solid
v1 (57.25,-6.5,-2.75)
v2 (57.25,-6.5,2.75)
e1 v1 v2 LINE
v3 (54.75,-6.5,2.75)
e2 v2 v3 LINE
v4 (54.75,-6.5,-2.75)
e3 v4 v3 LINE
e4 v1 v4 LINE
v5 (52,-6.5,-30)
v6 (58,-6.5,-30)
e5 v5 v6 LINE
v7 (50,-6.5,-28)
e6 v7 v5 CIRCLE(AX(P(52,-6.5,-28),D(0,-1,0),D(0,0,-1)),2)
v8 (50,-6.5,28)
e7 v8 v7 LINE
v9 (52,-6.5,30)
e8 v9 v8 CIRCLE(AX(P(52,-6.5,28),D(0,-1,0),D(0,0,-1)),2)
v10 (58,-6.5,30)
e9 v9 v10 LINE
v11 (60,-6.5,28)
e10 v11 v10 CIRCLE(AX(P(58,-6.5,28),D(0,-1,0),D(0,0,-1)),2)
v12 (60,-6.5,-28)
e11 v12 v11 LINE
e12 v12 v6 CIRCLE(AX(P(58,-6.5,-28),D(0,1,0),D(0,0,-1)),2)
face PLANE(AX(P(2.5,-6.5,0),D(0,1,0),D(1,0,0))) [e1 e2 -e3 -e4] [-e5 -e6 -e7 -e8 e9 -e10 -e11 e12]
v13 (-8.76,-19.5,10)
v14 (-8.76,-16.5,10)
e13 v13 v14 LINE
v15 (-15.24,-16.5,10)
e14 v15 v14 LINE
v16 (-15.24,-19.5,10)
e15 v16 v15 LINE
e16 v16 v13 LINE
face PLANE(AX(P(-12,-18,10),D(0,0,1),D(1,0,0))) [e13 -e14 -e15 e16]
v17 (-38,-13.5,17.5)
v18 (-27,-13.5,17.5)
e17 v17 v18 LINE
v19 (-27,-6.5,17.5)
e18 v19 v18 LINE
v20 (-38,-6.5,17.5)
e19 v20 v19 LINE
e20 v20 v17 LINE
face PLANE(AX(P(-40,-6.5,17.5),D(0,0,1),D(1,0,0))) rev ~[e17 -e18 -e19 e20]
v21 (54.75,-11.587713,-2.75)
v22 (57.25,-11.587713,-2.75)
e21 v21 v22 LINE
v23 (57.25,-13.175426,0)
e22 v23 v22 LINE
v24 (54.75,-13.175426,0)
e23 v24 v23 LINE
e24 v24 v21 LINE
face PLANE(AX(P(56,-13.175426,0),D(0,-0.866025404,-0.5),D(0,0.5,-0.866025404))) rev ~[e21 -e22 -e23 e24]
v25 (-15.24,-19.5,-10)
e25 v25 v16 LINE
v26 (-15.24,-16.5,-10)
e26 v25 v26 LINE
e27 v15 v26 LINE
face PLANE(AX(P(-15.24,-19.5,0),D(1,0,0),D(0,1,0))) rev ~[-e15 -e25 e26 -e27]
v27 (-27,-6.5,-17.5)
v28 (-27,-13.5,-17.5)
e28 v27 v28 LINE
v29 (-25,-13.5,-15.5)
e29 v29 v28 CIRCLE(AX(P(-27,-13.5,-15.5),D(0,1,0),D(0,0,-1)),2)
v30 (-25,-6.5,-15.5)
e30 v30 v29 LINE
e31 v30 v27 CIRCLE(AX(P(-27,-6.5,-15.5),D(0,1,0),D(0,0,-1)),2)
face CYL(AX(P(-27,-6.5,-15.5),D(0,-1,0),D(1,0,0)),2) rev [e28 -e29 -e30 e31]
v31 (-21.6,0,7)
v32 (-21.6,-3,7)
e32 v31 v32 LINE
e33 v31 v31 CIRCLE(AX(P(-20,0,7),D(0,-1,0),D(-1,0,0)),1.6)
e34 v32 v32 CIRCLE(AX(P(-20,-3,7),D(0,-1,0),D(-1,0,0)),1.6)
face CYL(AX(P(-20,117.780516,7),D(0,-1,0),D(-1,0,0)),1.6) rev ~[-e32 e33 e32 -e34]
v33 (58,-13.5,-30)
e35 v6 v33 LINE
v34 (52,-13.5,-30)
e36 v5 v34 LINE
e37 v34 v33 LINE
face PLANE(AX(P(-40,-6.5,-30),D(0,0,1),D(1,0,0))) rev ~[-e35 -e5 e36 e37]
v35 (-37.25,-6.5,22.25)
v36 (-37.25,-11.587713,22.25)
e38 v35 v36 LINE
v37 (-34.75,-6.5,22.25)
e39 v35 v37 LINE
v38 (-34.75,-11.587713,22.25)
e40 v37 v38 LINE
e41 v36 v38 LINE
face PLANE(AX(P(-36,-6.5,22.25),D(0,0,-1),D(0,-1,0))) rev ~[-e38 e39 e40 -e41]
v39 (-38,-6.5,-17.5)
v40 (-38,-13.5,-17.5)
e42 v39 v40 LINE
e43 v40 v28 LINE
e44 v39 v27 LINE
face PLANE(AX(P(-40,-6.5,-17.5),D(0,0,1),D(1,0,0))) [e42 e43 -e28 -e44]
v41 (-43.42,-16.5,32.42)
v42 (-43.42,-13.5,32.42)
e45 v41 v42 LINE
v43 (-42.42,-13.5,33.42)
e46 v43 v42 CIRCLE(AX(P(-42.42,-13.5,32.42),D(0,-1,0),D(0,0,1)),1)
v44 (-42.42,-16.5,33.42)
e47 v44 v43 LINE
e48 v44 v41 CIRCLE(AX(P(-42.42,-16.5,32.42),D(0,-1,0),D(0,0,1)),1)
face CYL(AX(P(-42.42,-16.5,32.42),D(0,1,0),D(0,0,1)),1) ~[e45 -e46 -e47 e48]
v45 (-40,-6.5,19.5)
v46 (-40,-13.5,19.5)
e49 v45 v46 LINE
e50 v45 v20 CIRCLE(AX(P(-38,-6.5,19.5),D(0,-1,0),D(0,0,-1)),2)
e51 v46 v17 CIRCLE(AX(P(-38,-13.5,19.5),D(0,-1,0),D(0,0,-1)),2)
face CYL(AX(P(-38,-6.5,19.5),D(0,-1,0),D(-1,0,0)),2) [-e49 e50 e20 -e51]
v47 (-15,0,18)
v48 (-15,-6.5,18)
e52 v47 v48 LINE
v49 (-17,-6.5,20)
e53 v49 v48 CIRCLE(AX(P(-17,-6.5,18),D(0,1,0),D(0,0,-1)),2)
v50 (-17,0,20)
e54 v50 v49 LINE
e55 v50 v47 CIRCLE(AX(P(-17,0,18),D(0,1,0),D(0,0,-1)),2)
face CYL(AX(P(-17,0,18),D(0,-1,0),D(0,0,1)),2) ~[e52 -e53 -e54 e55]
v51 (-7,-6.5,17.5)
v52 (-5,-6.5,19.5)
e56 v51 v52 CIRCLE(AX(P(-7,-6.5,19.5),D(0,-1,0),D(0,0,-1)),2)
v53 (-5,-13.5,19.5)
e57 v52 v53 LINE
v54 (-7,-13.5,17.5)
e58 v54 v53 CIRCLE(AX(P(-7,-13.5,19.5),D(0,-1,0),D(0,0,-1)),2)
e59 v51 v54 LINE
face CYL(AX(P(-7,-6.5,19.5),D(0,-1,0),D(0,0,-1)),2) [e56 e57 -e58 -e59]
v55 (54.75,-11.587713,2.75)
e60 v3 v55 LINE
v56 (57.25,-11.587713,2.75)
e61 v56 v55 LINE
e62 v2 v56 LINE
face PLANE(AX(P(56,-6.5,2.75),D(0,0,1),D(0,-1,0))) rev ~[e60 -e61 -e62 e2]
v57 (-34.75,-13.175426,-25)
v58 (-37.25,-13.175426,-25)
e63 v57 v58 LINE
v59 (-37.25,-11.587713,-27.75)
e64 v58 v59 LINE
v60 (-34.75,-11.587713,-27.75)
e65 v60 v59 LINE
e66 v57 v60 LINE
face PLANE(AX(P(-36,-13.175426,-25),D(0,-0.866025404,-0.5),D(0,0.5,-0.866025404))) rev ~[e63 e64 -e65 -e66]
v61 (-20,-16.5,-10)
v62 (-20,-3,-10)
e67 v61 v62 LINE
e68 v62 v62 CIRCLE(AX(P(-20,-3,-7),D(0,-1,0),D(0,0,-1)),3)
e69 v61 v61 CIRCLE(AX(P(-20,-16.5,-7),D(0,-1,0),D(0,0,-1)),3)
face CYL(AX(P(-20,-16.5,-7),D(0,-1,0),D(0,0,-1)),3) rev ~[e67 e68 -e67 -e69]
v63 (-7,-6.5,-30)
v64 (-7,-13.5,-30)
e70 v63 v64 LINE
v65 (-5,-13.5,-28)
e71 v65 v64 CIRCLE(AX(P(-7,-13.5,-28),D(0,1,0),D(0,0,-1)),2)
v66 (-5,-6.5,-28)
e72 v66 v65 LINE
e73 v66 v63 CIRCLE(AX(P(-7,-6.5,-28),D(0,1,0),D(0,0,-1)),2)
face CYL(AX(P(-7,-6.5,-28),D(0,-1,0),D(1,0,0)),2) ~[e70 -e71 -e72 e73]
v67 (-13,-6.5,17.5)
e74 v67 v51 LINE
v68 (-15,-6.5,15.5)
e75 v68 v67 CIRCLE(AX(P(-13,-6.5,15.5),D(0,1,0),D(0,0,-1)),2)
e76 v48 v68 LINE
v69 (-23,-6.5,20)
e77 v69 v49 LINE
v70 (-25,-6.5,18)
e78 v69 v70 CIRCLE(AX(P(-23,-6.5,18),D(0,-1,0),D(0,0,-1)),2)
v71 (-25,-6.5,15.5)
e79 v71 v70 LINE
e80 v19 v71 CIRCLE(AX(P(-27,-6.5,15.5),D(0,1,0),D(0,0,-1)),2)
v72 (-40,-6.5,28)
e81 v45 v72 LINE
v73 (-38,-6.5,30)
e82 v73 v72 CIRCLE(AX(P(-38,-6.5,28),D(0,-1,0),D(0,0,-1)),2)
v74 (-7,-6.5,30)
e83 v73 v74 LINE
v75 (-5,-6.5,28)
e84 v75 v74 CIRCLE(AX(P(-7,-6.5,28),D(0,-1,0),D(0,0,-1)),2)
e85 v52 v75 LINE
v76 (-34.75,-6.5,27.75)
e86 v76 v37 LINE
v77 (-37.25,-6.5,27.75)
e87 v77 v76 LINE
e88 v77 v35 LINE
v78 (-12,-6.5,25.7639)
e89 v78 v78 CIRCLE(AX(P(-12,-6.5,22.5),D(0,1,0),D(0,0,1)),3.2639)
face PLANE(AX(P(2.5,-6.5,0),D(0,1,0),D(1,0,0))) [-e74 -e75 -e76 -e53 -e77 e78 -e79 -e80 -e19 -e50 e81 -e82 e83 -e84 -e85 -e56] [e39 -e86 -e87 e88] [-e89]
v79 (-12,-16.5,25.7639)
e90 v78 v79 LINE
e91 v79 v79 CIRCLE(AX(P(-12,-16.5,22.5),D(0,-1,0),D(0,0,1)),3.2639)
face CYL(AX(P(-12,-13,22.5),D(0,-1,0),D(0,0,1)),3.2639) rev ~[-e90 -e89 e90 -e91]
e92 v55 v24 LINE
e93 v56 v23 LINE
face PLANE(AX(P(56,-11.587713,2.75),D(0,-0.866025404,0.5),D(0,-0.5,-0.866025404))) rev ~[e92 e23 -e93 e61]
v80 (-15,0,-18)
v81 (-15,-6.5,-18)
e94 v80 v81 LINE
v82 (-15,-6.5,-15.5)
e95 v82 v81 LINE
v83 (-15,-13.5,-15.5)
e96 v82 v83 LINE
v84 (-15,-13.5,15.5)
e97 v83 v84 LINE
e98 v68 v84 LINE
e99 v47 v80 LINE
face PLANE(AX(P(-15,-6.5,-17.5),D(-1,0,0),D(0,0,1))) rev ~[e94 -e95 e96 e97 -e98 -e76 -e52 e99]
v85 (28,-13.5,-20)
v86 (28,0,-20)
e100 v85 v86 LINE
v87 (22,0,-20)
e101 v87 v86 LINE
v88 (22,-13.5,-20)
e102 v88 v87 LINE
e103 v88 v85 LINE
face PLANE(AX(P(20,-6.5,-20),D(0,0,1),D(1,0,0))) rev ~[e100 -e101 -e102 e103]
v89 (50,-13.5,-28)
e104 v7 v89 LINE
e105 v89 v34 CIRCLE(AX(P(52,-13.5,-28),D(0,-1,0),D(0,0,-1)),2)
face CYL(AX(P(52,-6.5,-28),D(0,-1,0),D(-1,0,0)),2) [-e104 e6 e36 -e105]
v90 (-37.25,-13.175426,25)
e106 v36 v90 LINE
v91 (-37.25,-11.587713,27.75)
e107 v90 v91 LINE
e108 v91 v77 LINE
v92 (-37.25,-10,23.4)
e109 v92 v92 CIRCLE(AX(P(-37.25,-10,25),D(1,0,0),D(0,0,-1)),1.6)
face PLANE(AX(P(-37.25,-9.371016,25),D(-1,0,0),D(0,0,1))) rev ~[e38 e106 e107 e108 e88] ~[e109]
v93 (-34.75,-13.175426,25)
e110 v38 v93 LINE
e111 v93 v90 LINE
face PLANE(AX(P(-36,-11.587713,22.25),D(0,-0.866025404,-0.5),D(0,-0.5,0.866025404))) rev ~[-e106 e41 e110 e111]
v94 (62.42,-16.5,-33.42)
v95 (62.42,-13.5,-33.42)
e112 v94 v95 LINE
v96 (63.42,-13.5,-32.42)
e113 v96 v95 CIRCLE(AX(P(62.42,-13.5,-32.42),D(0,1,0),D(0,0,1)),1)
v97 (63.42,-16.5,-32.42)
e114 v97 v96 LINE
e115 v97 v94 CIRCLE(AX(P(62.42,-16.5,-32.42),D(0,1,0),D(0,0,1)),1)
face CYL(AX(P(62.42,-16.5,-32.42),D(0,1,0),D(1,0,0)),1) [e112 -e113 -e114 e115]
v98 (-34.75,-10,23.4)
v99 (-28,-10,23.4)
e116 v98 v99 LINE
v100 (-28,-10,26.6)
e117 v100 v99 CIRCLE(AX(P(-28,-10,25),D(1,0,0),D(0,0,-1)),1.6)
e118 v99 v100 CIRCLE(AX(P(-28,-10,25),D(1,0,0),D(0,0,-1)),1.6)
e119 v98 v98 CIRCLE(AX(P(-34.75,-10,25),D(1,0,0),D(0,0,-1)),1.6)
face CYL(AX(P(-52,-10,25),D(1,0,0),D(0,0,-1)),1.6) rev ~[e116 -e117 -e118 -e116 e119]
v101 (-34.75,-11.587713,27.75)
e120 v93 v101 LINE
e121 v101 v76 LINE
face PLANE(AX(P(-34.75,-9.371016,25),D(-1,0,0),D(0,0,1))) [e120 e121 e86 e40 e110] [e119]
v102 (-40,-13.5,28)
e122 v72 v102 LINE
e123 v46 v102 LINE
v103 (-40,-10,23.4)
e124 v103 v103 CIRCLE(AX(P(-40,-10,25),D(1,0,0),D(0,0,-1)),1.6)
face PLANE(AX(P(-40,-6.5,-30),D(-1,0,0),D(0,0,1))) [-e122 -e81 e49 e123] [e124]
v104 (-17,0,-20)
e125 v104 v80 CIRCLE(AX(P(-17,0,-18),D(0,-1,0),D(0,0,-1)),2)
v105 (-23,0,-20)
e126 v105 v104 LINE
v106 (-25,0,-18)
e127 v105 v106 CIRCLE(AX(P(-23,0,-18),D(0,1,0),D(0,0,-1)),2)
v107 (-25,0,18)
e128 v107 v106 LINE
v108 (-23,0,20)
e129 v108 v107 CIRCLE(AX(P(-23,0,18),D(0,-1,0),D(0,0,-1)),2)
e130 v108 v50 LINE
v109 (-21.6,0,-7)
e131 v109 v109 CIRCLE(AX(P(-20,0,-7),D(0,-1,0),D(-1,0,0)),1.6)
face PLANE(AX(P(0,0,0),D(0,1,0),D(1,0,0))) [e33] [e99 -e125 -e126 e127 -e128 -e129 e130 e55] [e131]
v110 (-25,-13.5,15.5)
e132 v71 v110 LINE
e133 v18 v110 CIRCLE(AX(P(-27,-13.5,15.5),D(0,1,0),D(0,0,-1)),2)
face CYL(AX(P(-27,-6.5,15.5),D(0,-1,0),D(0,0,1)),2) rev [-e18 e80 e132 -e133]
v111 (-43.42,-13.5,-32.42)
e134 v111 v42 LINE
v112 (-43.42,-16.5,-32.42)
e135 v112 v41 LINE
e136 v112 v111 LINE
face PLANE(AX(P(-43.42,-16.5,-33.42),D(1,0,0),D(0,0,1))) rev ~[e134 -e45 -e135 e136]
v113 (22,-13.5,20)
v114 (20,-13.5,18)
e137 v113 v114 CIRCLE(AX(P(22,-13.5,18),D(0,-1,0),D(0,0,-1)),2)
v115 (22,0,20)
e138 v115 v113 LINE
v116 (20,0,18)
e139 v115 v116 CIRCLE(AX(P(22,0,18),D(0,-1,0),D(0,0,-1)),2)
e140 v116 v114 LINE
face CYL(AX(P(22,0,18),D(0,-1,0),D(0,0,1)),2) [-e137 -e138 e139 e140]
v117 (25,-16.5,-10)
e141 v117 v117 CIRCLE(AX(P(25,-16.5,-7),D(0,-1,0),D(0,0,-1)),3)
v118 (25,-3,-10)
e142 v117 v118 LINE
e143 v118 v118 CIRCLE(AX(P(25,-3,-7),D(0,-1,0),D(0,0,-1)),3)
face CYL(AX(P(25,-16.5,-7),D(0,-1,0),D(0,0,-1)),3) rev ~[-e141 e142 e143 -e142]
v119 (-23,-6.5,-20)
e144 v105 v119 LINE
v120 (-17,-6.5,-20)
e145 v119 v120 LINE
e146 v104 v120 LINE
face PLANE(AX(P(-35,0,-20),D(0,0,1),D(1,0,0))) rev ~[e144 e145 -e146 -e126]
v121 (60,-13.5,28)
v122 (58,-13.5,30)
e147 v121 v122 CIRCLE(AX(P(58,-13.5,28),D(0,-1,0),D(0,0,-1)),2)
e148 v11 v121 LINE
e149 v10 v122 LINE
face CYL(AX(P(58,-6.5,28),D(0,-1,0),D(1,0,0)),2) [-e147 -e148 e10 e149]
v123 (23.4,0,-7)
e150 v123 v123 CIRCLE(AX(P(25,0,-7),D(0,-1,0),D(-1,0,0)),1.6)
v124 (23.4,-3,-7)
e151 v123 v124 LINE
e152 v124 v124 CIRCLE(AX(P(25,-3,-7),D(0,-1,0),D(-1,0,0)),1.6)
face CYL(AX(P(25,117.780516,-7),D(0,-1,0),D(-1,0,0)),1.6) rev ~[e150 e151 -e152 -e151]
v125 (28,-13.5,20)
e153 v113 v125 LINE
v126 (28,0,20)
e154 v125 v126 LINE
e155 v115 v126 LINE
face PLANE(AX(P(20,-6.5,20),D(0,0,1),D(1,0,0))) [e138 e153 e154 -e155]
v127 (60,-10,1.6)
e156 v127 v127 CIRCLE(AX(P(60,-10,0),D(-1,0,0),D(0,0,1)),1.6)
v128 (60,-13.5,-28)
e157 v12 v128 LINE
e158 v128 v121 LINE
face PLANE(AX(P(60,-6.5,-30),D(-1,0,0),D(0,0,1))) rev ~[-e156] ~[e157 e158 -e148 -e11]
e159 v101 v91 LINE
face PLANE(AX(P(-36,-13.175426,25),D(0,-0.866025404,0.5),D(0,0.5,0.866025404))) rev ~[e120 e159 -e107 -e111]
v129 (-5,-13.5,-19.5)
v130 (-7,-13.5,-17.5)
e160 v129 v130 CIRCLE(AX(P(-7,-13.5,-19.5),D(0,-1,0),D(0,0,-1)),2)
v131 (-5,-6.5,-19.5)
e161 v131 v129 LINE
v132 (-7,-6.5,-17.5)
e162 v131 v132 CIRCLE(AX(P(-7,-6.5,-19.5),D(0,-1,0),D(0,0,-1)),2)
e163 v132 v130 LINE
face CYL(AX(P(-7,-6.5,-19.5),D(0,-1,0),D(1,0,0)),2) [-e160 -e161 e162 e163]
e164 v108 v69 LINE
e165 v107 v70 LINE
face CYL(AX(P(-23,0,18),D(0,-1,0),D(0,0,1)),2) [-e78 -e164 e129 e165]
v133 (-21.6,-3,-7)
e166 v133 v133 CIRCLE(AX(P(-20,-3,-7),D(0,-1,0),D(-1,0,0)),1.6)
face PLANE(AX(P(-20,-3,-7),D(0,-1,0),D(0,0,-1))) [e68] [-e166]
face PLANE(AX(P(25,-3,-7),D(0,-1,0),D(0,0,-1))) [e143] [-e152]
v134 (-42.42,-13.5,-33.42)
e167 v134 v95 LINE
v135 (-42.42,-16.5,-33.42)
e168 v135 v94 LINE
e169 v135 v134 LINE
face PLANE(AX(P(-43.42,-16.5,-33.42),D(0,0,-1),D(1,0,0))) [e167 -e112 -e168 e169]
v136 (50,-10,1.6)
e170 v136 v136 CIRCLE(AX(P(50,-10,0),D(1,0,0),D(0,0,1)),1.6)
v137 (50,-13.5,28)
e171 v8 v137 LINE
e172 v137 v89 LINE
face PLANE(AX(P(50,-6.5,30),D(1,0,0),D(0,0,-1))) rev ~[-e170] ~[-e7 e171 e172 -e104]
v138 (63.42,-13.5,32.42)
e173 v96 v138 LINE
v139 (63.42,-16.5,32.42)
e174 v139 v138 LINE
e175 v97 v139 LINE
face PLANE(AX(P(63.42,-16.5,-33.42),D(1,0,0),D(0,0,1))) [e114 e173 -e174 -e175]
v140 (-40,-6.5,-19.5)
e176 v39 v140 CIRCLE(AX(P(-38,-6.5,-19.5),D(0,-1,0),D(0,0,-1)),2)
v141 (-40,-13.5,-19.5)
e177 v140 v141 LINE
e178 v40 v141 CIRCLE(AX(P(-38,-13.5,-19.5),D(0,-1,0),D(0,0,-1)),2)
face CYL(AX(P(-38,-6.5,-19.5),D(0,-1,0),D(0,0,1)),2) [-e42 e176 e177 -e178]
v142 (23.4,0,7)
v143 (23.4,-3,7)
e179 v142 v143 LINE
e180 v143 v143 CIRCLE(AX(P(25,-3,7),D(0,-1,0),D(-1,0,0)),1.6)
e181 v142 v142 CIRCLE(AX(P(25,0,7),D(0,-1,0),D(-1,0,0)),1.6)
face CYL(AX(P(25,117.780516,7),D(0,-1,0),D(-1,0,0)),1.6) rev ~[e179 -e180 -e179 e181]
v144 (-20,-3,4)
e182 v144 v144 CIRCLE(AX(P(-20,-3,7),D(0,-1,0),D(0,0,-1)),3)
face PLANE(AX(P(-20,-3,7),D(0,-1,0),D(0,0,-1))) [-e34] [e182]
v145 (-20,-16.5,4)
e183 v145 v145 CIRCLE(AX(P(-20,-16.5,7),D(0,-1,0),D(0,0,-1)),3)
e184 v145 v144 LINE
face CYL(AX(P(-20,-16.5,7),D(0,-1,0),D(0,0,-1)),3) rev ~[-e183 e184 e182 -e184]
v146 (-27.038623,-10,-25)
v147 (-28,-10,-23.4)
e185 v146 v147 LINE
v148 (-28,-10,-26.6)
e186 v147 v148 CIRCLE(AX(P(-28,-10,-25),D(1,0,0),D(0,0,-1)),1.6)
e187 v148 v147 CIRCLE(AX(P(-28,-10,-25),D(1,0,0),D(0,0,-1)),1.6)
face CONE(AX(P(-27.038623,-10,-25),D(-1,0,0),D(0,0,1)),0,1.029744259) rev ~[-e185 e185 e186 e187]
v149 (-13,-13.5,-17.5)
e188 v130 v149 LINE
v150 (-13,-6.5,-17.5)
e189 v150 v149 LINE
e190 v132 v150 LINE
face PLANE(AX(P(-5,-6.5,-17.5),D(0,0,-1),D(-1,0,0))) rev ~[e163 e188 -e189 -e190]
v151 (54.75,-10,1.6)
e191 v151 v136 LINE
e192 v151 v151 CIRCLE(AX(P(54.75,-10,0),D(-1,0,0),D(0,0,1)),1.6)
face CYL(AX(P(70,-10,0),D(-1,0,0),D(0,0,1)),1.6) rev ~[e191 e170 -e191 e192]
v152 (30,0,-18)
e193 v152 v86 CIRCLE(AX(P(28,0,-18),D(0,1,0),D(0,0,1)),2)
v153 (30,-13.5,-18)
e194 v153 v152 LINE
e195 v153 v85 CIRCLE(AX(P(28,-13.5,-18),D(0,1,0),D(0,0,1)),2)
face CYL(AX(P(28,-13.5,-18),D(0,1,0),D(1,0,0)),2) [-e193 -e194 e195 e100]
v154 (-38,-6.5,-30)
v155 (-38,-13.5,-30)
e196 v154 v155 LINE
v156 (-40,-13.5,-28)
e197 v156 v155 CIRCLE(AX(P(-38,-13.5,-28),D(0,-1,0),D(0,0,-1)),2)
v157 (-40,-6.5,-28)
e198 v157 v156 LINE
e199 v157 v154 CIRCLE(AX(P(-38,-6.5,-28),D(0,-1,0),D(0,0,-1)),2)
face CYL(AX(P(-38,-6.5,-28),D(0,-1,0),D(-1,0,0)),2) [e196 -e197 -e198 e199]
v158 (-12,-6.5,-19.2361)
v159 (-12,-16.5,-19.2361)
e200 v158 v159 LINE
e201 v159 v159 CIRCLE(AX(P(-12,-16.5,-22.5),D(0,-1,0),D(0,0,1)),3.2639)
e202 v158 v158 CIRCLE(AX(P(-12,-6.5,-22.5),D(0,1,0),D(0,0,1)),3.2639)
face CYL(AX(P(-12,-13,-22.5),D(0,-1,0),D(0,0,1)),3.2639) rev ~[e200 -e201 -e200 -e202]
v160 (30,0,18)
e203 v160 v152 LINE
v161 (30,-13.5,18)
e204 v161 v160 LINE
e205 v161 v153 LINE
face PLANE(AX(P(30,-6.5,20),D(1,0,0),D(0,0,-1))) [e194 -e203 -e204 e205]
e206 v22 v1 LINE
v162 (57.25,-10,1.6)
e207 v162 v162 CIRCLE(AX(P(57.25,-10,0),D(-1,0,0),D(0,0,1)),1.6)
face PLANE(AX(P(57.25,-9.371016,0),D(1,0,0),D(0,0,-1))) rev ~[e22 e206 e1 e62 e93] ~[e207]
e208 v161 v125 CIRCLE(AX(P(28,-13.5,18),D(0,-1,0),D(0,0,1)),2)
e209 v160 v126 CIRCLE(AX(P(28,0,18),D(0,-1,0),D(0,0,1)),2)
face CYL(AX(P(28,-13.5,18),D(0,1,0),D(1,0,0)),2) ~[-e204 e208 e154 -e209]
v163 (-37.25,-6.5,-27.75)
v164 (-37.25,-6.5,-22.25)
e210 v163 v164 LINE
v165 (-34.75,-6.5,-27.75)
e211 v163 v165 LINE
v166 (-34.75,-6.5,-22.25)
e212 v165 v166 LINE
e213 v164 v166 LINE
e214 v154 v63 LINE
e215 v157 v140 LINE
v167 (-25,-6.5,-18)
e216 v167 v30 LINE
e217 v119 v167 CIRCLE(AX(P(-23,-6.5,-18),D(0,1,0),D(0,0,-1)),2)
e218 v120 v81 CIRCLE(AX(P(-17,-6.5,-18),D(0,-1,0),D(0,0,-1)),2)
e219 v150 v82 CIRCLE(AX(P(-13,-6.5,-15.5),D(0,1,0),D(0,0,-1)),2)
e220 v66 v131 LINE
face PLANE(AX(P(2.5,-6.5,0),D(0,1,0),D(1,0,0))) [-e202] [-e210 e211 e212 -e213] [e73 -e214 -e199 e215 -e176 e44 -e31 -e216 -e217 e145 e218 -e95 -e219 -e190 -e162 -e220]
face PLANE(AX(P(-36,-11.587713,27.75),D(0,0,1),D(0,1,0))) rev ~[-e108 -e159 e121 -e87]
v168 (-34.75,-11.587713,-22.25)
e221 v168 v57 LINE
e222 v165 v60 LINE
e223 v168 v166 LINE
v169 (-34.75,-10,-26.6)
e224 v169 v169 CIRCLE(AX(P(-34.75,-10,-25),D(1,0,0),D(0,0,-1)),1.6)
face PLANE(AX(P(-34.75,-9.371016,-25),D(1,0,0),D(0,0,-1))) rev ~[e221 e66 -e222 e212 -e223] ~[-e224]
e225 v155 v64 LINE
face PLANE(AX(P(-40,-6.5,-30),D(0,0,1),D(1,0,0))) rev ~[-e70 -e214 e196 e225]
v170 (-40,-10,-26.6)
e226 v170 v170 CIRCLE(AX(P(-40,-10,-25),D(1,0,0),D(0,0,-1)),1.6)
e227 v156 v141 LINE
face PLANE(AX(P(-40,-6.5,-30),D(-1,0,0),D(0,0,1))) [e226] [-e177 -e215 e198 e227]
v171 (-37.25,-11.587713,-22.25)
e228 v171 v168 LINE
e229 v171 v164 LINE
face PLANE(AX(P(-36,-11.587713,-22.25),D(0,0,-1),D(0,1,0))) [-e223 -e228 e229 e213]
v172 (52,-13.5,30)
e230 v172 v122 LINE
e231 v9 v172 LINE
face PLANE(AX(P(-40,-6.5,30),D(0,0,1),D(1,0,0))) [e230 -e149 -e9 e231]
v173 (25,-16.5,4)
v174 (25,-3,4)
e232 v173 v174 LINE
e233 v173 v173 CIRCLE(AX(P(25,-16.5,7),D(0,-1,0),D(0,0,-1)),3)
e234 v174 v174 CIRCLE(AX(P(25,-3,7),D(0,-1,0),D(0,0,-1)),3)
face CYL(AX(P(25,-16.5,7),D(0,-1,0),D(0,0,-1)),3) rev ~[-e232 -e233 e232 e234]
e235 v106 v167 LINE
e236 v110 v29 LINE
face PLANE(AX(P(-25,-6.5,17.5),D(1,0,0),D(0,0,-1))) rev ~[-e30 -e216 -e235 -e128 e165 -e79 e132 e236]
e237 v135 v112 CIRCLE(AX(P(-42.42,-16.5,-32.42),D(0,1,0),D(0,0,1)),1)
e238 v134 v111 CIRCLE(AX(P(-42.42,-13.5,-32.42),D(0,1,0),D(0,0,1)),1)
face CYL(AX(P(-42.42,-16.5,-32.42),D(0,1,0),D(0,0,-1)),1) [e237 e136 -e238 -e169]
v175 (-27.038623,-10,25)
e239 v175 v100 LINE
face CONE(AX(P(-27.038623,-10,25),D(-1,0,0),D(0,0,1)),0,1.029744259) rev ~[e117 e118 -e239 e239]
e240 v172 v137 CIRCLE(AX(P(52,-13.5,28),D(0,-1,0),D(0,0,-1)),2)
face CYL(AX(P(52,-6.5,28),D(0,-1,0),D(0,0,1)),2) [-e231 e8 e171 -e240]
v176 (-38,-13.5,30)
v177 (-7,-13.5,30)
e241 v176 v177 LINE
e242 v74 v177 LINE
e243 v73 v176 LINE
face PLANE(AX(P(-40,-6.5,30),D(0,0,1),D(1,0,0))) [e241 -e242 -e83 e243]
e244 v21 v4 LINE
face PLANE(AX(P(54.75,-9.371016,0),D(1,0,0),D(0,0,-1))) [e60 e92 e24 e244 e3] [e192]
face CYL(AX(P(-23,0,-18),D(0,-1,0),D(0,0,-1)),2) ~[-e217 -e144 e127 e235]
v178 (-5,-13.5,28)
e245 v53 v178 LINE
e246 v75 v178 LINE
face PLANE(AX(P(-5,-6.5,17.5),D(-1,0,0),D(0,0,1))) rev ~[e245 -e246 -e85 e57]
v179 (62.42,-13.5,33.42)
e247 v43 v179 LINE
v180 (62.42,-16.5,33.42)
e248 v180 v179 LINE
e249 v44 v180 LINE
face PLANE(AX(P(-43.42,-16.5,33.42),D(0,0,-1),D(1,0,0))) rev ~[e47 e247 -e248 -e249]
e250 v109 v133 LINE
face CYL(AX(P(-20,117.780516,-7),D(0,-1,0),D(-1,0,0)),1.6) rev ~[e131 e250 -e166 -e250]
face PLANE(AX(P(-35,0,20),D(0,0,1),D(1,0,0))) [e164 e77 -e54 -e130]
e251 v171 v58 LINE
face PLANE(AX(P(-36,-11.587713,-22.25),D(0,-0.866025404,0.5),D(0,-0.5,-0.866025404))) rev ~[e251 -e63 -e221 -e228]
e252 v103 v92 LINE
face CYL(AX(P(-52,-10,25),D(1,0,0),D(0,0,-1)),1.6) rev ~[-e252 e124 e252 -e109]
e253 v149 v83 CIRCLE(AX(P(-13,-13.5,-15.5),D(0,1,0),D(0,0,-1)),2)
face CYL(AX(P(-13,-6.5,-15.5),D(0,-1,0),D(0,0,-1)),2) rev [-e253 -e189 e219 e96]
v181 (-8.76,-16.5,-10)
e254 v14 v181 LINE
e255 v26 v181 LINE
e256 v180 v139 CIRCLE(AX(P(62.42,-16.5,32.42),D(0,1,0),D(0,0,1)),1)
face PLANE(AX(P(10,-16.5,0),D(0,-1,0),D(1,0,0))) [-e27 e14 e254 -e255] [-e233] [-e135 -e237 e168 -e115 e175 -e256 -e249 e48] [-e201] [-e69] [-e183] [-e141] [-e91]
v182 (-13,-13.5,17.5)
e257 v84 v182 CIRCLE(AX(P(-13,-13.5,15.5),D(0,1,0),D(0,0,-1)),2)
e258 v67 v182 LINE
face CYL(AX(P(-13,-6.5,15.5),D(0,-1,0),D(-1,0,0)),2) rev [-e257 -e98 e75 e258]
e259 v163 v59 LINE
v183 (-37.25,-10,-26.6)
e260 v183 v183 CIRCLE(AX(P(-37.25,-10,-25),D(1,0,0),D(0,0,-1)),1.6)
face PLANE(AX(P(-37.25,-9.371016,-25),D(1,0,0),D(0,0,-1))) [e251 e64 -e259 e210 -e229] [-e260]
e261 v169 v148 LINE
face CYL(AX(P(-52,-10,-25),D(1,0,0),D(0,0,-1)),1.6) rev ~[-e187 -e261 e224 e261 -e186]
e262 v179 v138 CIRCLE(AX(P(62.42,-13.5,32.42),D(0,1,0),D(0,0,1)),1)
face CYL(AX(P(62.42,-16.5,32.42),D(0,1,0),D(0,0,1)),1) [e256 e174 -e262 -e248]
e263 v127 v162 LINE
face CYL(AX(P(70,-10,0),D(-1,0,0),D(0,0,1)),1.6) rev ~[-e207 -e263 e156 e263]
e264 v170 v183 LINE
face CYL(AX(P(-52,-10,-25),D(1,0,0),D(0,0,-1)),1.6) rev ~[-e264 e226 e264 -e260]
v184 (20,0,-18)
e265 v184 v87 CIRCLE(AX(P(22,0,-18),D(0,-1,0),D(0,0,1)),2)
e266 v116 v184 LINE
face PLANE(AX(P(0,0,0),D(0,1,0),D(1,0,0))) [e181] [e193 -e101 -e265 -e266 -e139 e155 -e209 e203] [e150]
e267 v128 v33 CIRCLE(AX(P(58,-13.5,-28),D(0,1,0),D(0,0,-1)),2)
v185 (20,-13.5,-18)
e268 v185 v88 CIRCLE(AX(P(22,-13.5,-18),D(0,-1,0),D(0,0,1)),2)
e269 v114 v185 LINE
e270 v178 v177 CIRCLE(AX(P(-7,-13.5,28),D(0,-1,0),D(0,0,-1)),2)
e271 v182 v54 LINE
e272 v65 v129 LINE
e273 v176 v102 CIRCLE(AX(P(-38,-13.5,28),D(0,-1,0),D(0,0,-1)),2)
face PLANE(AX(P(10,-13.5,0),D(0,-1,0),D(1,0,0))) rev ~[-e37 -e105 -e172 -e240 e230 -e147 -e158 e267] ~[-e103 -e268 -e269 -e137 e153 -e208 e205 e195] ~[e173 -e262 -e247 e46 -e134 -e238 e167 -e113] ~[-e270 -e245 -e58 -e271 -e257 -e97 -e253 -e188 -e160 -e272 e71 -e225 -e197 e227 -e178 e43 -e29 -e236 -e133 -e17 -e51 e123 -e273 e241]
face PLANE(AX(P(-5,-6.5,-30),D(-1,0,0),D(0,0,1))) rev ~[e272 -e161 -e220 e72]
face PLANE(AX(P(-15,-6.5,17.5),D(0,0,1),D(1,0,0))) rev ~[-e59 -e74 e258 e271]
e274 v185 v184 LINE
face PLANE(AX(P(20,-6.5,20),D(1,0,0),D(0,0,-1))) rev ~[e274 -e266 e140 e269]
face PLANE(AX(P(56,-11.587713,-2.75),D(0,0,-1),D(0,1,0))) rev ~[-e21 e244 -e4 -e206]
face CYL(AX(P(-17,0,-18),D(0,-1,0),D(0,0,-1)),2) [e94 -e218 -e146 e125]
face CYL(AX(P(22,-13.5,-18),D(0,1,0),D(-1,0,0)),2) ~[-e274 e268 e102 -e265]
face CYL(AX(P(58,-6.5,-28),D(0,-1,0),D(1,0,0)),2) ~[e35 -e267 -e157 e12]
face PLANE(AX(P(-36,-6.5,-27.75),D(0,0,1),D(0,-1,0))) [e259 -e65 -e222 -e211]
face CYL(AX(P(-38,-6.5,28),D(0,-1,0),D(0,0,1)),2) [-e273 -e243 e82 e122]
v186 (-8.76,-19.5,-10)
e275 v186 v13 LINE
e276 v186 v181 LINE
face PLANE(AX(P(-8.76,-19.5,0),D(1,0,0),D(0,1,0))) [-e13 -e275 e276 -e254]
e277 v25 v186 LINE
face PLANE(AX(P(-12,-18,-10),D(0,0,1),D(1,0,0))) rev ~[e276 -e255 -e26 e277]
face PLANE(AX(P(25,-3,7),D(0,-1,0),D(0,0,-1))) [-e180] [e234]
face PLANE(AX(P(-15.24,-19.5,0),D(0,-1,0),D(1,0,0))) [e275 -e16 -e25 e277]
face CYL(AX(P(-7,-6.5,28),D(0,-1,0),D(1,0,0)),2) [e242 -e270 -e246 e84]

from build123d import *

# Parameters (mm, degrees)
SKETCH1_W                        = 70
SKETCH1_H                        = 40
BOSS_EXTRUDE1_DEPTH              = 6.5
SKETCH2_W                        = 100
SKETCH2_H                        = 60
BOSS_EXTRUDE2_DEPTH              = 10
M3_CLEARANCE_HOLE1_D             = 3.2
SKETCH40_R                       = 3
CUT_EXTRUDE10_DEPTH              = 13.5
SKETCH7_W                        = 106.84
SKETCH7_H                        = 66.84
SKETCH7_W_2                      = 100
SKETCH7_H_2                      = 60
BOSS_EXTRUDE3_DEPTH              = 3
CUT_EXTRUDE2_DEPTH               = 1.25
M3_CLEARANCE_HOLE3_D             = 3.2
M3_CLEARANCE_HOLE3_DEPTH         = 12
M3_CLEARANCE_HOLE3_TIP           = 0.96137699
SKETCH23_W                       = 6.48
SKETCH23_H                       = 3
BOSS_EXTRUDE5_DEPTH              = 10
SKETCH26_W                       = 3.2639
SKETCH26_H                       = 13
F_1_4_CLEARANCE_HOLE2_AT_2_COUNT = 2
F_1_4_CLEARANCE_HOLE2_AT_2_PITCH = 45
SKETCH41_W                       = 35
SKETCH41_H                       = 40
SKETCH41_W_2                     = 10
SKETCH41_W_3                     = 5
CUT_EXTRUDE11_DEPTH              = 6.5
SKETCH42_W                       = 15
SKETCH42_H                       = 35
SKETCH42_W_2                     = 10
SKETCH42_H_2                     = 40
CUT_EXTRUDE12_DEPTH              = 7
CUT_EXTRUDE13_DEPTH              = 1.25
M3_CLEARANCE_HOLE5_D             = 3.2
M3_CLEARANCE_HOLE5_DEPTH         = 10
M3_CLEARANCE_HOLE5_TIP           = 0.96137699
FILLET1_R                        = 2
FILLET2_R                        = 1


with BuildPart() as part:
    # Sketch1 → Boss-Extrude1 (new body)
    with BuildSketch(Plane(origin=(0, 0, 0), x_dir=(1, 0, 0), z_dir=(0, 1, 0))):
        Rectangle(SKETCH1_W, SKETCH1_H)
    extrude(amount=-BOSS_EXTRUDE1_DEPTH)

    # Sketch2 → Boss-Extrude2 (add)
    with BuildSketch(Plane.XZ.offset(6.5)):
        with Locations((10, 0)):
            Rectangle(SKETCH2_W, SKETCH2_H)
    extrude(amount=BOSS_EXTRUDE2_DEPTH)

    # M3 Clearance Hole1 (through all)
    with Locations(Plane(origin=(0, 0, 0), x_dir=(1, 0, 0), z_dir=(0, 1, 0))):
        with Locations((-20, 7), (25, 7), (-20, -7), (25, -7)):
            Hole(M3_CLEARANCE_HOLE1_D / 2)

    # Sketch40 → Cut-Extrude10 (cut)
    with BuildSketch(Plane.XZ.offset(16.5)):
        with Locations(Location((-20, 7, 0), (0, 0, 270))):
            Circle(SKETCH40_R)
        with Locations(Location((-20, -7, 0), (0, 0, 270))):
            Circle(SKETCH40_R)
        with Locations(Location((25, 7, 0), (0, 0, 270))):
            Circle(SKETCH40_R)
        with Locations(Location((25, -7, 0), (0, 0, 270))):
            Circle(SKETCH40_R)
    extrude(amount=-CUT_EXTRUDE10_DEPTH, mode=Mode.SUBTRACT)

    # Sketch7 → Boss-Extrude3 (add)
    with BuildSketch(Plane.XZ.offset(16.5)):
        with Locations((10, 0)):
            Rectangle(SKETCH7_W, SKETCH7_H)
        with Locations((10, 0)):
            Rectangle(SKETCH7_W_2, SKETCH7_H_2, mode=Mode.SUBTRACT)
    extrude(amount=-BOSS_EXTRUDE3_DEPTH)

    # Sketch14 → Cut-Extrude2 (cut, symmetric)
    with BuildSketch(Plane.ZY.offset(36)):
        Polygon((-27.75, -8.41228676), (-27.75, -6.5), (-22.25, -6.5), (-22.25, -8.41228676), (-22.25, -11.58771324), (-25, -13.175426481), (-27.75, -11.58771324), align=None)
        Polygon((22.25, -8.41228676), (22.25, -11.58771324), (25, -13.175426481), (27.75, -11.58771324), (27.75, -8.41228676), (27.75, -6.5), (22.25, -6.5), align=None)
    extrude(amount=CUT_EXTRUDE2_DEPTH, both=True, mode=Mode.SUBTRACT)

    # M3 Clearance Hole3
    with Locations(Plane.ZY.offset(40)):
        with Locations((-25, -10), (25, -10)):
            Hole(M3_CLEARANCE_HOLE3_D / 2, depth=M3_CLEARANCE_HOLE3_DEPTH)
            with Locations((0, 0, -(M3_CLEARANCE_HOLE3_DEPTH + M3_CLEARANCE_HOLE3_TIP / 2))):  # 118° drill point
                Cone(0, M3_CLEARANCE_HOLE3_D / 2, M3_CLEARANCE_HOLE3_TIP, mode=Mode.SUBTRACT)

    # Sketch23 → Boss-Extrude5 (add, symmetric)
    with BuildSketch(Plane.XY):
        with Locations((-12, -18)):
            Rectangle(SKETCH23_W, SKETCH23_H)
    extrude(amount=BOSS_EXTRUDE5_DEPTH, both=True)

    # Sketch26 → 1/4 Clearance Hole2 (revolve, cut)
    with BuildSketch(Plane(origin=(-12, -6.5, -22.5), x_dir=(0, 0, 1), z_dir=(1, 0, 0))):
        with Locations((1.63195, 6.5)):
            Rectangle(SKETCH26_W, SKETCH26_H)
    f_1_4_clearance_hole2 = revolve(axis=Axis((-12, -0.15, -22.5), (0, -1, 0)), mode=Mode.SUBTRACT)

    # 1/4 Clearance Hole2 at 2: 1/4 Clearance Hole2 ×2
    with Locations(*[(0, 0, i * F_1_4_CLEARANCE_HOLE2_AT_2_PITCH) for i in range(1, F_1_4_CLEARANCE_HOLE2_AT_2_COUNT)]):
        add(f_1_4_clearance_hole2, mode=Mode.SUBTRACT)

    # Sketch41 → Cut-Extrude11 (cut)
    with BuildSketch(Plane(origin=(0, 0, 0), x_dir=(1, 0, 0), z_dir=(0, 1, 0))):
        with Locations((2.5, 0)):
            Rectangle(SKETCH41_W, SKETCH41_H)
        with Locations((-30, 0)):
            Rectangle(SKETCH41_W_2, SKETCH41_H)
        with Locations((32.5, 0)):
            Rectangle(SKETCH41_W_3, SKETCH41_H)
    extrude(amount=-CUT_EXTRUDE11_DEPTH, mode=Mode.SUBTRACT)

    # Sketch42 → Cut-Extrude12 (cut)
    # profile 1 of 2: a face of its own
    with BuildSketch(Plane(origin=(0, -6.5, 0), x_dir=(1, 0, 0), z_dir=(0, 1, 0))):
        with Locations((-32.5, 0)):
            Rectangle(SKETCH42_W, SKETCH42_H)
    # profile 2 of 2: a face of its own
    with BuildSketch(Plane(origin=(0, -6.5, 0), x_dir=(1, 0, 0), z_dir=(0, 1, 0))):
        Polygon((20, -30), (30, -30), (50, -30), (50, 30), (30, 30), (20, 30), (-5, 30), (-5, 17.5), (-15, 17.5), (-15, -17.5), (-5, -17.5), (-5, -30), align=None)
        with Locations((25, 0)):
            Rectangle(SKETCH42_W_2, SKETCH42_H_2, mode=Mode.SUBTRACT)
    extrude(amount=-CUT_EXTRUDE12_DEPTH, mode=Mode.SUBTRACT)

    # Sketch44 → Cut-Extrude13 (cut, symmetric)
    with BuildSketch(Plane(origin=(56, 0, 0), x_dir=(0, 0, -1), z_dir=(1, 0, 0))):
        Polygon((-2.75, -8.41228676), (-2.75, -11.58771324), (0, -13.175426481), (2.75, -11.58771324), (2.75, -8.41228676), (2.75, -6.5), (-2.75, -6.5), align=None)
    extrude(amount=CUT_EXTRUDE13_DEPTH, both=True, mode=Mode.SUBTRACT)

    # M3 Clearance Hole5
    with Locations(Plane(origin=(60, 0, 0), x_dir=(0, 0, -1), z_dir=(1, 0, 0))):
        with Locations((0, -10)):
            Hole(M3_CLEARANCE_HOLE5_D / 2, depth=M3_CLEARANCE_HOLE5_DEPTH)
            with Locations((0, 0, -(M3_CLEARANCE_HOLE5_DEPTH + M3_CLEARANCE_HOLE5_TIP / 2))):  # 118° drill point
                Cone(0, M3_CLEARANCE_HOLE5_D / 2, M3_CLEARANCE_HOLE5_TIP, mode=Mode.SUBTRACT)

    # Fillet1
    fillet1_edges = [part.edges().sort_by_distance(p)[0] for p in [
        (30, -6.75, -20),
        (30, -6.75, 20),
        (-25, -3.25, 20),
        (-25, -3.25, -20),
        (20, -6.75, 20),
        (20, -6.75, -20),
        (-15, -3.25, -20),
        (-15, -3.25, 20),
        (-25, -10, 17.5),
        (-25, -10, -17.5),
        (-40, -10, -17.5),
        (-40, -10, 17.5),
        (-15, -10, -17.5),
        (-5, -10, -17.5),
        (-5, -10, -30),
        (50, -10, -30),
        (50, -10, 30),
        (-5, -10, 30),
        (-5, -10, 17.5),
        (-15, -10, 17.5),
        (-40, -10, 30),
        (60, -10, 30),
        (60, -10, -30),
        (-40, -10, -30),
    ]]
    fillet(fillet1_edges, radius=FILLET1_R)

    # Fillet2
    fillet2_edges = [part.edges().sort_by_distance(p)[0] for p in [
        (-43.42, -15, 33.42),
        (63.42, -15, 33.42),
        (63.42, -15, -33.42),
        (-43.42, -15, -33.42),
    ]]
    fillet(fillet2_edges, radius=FILLET2_R)


solid = part.part
